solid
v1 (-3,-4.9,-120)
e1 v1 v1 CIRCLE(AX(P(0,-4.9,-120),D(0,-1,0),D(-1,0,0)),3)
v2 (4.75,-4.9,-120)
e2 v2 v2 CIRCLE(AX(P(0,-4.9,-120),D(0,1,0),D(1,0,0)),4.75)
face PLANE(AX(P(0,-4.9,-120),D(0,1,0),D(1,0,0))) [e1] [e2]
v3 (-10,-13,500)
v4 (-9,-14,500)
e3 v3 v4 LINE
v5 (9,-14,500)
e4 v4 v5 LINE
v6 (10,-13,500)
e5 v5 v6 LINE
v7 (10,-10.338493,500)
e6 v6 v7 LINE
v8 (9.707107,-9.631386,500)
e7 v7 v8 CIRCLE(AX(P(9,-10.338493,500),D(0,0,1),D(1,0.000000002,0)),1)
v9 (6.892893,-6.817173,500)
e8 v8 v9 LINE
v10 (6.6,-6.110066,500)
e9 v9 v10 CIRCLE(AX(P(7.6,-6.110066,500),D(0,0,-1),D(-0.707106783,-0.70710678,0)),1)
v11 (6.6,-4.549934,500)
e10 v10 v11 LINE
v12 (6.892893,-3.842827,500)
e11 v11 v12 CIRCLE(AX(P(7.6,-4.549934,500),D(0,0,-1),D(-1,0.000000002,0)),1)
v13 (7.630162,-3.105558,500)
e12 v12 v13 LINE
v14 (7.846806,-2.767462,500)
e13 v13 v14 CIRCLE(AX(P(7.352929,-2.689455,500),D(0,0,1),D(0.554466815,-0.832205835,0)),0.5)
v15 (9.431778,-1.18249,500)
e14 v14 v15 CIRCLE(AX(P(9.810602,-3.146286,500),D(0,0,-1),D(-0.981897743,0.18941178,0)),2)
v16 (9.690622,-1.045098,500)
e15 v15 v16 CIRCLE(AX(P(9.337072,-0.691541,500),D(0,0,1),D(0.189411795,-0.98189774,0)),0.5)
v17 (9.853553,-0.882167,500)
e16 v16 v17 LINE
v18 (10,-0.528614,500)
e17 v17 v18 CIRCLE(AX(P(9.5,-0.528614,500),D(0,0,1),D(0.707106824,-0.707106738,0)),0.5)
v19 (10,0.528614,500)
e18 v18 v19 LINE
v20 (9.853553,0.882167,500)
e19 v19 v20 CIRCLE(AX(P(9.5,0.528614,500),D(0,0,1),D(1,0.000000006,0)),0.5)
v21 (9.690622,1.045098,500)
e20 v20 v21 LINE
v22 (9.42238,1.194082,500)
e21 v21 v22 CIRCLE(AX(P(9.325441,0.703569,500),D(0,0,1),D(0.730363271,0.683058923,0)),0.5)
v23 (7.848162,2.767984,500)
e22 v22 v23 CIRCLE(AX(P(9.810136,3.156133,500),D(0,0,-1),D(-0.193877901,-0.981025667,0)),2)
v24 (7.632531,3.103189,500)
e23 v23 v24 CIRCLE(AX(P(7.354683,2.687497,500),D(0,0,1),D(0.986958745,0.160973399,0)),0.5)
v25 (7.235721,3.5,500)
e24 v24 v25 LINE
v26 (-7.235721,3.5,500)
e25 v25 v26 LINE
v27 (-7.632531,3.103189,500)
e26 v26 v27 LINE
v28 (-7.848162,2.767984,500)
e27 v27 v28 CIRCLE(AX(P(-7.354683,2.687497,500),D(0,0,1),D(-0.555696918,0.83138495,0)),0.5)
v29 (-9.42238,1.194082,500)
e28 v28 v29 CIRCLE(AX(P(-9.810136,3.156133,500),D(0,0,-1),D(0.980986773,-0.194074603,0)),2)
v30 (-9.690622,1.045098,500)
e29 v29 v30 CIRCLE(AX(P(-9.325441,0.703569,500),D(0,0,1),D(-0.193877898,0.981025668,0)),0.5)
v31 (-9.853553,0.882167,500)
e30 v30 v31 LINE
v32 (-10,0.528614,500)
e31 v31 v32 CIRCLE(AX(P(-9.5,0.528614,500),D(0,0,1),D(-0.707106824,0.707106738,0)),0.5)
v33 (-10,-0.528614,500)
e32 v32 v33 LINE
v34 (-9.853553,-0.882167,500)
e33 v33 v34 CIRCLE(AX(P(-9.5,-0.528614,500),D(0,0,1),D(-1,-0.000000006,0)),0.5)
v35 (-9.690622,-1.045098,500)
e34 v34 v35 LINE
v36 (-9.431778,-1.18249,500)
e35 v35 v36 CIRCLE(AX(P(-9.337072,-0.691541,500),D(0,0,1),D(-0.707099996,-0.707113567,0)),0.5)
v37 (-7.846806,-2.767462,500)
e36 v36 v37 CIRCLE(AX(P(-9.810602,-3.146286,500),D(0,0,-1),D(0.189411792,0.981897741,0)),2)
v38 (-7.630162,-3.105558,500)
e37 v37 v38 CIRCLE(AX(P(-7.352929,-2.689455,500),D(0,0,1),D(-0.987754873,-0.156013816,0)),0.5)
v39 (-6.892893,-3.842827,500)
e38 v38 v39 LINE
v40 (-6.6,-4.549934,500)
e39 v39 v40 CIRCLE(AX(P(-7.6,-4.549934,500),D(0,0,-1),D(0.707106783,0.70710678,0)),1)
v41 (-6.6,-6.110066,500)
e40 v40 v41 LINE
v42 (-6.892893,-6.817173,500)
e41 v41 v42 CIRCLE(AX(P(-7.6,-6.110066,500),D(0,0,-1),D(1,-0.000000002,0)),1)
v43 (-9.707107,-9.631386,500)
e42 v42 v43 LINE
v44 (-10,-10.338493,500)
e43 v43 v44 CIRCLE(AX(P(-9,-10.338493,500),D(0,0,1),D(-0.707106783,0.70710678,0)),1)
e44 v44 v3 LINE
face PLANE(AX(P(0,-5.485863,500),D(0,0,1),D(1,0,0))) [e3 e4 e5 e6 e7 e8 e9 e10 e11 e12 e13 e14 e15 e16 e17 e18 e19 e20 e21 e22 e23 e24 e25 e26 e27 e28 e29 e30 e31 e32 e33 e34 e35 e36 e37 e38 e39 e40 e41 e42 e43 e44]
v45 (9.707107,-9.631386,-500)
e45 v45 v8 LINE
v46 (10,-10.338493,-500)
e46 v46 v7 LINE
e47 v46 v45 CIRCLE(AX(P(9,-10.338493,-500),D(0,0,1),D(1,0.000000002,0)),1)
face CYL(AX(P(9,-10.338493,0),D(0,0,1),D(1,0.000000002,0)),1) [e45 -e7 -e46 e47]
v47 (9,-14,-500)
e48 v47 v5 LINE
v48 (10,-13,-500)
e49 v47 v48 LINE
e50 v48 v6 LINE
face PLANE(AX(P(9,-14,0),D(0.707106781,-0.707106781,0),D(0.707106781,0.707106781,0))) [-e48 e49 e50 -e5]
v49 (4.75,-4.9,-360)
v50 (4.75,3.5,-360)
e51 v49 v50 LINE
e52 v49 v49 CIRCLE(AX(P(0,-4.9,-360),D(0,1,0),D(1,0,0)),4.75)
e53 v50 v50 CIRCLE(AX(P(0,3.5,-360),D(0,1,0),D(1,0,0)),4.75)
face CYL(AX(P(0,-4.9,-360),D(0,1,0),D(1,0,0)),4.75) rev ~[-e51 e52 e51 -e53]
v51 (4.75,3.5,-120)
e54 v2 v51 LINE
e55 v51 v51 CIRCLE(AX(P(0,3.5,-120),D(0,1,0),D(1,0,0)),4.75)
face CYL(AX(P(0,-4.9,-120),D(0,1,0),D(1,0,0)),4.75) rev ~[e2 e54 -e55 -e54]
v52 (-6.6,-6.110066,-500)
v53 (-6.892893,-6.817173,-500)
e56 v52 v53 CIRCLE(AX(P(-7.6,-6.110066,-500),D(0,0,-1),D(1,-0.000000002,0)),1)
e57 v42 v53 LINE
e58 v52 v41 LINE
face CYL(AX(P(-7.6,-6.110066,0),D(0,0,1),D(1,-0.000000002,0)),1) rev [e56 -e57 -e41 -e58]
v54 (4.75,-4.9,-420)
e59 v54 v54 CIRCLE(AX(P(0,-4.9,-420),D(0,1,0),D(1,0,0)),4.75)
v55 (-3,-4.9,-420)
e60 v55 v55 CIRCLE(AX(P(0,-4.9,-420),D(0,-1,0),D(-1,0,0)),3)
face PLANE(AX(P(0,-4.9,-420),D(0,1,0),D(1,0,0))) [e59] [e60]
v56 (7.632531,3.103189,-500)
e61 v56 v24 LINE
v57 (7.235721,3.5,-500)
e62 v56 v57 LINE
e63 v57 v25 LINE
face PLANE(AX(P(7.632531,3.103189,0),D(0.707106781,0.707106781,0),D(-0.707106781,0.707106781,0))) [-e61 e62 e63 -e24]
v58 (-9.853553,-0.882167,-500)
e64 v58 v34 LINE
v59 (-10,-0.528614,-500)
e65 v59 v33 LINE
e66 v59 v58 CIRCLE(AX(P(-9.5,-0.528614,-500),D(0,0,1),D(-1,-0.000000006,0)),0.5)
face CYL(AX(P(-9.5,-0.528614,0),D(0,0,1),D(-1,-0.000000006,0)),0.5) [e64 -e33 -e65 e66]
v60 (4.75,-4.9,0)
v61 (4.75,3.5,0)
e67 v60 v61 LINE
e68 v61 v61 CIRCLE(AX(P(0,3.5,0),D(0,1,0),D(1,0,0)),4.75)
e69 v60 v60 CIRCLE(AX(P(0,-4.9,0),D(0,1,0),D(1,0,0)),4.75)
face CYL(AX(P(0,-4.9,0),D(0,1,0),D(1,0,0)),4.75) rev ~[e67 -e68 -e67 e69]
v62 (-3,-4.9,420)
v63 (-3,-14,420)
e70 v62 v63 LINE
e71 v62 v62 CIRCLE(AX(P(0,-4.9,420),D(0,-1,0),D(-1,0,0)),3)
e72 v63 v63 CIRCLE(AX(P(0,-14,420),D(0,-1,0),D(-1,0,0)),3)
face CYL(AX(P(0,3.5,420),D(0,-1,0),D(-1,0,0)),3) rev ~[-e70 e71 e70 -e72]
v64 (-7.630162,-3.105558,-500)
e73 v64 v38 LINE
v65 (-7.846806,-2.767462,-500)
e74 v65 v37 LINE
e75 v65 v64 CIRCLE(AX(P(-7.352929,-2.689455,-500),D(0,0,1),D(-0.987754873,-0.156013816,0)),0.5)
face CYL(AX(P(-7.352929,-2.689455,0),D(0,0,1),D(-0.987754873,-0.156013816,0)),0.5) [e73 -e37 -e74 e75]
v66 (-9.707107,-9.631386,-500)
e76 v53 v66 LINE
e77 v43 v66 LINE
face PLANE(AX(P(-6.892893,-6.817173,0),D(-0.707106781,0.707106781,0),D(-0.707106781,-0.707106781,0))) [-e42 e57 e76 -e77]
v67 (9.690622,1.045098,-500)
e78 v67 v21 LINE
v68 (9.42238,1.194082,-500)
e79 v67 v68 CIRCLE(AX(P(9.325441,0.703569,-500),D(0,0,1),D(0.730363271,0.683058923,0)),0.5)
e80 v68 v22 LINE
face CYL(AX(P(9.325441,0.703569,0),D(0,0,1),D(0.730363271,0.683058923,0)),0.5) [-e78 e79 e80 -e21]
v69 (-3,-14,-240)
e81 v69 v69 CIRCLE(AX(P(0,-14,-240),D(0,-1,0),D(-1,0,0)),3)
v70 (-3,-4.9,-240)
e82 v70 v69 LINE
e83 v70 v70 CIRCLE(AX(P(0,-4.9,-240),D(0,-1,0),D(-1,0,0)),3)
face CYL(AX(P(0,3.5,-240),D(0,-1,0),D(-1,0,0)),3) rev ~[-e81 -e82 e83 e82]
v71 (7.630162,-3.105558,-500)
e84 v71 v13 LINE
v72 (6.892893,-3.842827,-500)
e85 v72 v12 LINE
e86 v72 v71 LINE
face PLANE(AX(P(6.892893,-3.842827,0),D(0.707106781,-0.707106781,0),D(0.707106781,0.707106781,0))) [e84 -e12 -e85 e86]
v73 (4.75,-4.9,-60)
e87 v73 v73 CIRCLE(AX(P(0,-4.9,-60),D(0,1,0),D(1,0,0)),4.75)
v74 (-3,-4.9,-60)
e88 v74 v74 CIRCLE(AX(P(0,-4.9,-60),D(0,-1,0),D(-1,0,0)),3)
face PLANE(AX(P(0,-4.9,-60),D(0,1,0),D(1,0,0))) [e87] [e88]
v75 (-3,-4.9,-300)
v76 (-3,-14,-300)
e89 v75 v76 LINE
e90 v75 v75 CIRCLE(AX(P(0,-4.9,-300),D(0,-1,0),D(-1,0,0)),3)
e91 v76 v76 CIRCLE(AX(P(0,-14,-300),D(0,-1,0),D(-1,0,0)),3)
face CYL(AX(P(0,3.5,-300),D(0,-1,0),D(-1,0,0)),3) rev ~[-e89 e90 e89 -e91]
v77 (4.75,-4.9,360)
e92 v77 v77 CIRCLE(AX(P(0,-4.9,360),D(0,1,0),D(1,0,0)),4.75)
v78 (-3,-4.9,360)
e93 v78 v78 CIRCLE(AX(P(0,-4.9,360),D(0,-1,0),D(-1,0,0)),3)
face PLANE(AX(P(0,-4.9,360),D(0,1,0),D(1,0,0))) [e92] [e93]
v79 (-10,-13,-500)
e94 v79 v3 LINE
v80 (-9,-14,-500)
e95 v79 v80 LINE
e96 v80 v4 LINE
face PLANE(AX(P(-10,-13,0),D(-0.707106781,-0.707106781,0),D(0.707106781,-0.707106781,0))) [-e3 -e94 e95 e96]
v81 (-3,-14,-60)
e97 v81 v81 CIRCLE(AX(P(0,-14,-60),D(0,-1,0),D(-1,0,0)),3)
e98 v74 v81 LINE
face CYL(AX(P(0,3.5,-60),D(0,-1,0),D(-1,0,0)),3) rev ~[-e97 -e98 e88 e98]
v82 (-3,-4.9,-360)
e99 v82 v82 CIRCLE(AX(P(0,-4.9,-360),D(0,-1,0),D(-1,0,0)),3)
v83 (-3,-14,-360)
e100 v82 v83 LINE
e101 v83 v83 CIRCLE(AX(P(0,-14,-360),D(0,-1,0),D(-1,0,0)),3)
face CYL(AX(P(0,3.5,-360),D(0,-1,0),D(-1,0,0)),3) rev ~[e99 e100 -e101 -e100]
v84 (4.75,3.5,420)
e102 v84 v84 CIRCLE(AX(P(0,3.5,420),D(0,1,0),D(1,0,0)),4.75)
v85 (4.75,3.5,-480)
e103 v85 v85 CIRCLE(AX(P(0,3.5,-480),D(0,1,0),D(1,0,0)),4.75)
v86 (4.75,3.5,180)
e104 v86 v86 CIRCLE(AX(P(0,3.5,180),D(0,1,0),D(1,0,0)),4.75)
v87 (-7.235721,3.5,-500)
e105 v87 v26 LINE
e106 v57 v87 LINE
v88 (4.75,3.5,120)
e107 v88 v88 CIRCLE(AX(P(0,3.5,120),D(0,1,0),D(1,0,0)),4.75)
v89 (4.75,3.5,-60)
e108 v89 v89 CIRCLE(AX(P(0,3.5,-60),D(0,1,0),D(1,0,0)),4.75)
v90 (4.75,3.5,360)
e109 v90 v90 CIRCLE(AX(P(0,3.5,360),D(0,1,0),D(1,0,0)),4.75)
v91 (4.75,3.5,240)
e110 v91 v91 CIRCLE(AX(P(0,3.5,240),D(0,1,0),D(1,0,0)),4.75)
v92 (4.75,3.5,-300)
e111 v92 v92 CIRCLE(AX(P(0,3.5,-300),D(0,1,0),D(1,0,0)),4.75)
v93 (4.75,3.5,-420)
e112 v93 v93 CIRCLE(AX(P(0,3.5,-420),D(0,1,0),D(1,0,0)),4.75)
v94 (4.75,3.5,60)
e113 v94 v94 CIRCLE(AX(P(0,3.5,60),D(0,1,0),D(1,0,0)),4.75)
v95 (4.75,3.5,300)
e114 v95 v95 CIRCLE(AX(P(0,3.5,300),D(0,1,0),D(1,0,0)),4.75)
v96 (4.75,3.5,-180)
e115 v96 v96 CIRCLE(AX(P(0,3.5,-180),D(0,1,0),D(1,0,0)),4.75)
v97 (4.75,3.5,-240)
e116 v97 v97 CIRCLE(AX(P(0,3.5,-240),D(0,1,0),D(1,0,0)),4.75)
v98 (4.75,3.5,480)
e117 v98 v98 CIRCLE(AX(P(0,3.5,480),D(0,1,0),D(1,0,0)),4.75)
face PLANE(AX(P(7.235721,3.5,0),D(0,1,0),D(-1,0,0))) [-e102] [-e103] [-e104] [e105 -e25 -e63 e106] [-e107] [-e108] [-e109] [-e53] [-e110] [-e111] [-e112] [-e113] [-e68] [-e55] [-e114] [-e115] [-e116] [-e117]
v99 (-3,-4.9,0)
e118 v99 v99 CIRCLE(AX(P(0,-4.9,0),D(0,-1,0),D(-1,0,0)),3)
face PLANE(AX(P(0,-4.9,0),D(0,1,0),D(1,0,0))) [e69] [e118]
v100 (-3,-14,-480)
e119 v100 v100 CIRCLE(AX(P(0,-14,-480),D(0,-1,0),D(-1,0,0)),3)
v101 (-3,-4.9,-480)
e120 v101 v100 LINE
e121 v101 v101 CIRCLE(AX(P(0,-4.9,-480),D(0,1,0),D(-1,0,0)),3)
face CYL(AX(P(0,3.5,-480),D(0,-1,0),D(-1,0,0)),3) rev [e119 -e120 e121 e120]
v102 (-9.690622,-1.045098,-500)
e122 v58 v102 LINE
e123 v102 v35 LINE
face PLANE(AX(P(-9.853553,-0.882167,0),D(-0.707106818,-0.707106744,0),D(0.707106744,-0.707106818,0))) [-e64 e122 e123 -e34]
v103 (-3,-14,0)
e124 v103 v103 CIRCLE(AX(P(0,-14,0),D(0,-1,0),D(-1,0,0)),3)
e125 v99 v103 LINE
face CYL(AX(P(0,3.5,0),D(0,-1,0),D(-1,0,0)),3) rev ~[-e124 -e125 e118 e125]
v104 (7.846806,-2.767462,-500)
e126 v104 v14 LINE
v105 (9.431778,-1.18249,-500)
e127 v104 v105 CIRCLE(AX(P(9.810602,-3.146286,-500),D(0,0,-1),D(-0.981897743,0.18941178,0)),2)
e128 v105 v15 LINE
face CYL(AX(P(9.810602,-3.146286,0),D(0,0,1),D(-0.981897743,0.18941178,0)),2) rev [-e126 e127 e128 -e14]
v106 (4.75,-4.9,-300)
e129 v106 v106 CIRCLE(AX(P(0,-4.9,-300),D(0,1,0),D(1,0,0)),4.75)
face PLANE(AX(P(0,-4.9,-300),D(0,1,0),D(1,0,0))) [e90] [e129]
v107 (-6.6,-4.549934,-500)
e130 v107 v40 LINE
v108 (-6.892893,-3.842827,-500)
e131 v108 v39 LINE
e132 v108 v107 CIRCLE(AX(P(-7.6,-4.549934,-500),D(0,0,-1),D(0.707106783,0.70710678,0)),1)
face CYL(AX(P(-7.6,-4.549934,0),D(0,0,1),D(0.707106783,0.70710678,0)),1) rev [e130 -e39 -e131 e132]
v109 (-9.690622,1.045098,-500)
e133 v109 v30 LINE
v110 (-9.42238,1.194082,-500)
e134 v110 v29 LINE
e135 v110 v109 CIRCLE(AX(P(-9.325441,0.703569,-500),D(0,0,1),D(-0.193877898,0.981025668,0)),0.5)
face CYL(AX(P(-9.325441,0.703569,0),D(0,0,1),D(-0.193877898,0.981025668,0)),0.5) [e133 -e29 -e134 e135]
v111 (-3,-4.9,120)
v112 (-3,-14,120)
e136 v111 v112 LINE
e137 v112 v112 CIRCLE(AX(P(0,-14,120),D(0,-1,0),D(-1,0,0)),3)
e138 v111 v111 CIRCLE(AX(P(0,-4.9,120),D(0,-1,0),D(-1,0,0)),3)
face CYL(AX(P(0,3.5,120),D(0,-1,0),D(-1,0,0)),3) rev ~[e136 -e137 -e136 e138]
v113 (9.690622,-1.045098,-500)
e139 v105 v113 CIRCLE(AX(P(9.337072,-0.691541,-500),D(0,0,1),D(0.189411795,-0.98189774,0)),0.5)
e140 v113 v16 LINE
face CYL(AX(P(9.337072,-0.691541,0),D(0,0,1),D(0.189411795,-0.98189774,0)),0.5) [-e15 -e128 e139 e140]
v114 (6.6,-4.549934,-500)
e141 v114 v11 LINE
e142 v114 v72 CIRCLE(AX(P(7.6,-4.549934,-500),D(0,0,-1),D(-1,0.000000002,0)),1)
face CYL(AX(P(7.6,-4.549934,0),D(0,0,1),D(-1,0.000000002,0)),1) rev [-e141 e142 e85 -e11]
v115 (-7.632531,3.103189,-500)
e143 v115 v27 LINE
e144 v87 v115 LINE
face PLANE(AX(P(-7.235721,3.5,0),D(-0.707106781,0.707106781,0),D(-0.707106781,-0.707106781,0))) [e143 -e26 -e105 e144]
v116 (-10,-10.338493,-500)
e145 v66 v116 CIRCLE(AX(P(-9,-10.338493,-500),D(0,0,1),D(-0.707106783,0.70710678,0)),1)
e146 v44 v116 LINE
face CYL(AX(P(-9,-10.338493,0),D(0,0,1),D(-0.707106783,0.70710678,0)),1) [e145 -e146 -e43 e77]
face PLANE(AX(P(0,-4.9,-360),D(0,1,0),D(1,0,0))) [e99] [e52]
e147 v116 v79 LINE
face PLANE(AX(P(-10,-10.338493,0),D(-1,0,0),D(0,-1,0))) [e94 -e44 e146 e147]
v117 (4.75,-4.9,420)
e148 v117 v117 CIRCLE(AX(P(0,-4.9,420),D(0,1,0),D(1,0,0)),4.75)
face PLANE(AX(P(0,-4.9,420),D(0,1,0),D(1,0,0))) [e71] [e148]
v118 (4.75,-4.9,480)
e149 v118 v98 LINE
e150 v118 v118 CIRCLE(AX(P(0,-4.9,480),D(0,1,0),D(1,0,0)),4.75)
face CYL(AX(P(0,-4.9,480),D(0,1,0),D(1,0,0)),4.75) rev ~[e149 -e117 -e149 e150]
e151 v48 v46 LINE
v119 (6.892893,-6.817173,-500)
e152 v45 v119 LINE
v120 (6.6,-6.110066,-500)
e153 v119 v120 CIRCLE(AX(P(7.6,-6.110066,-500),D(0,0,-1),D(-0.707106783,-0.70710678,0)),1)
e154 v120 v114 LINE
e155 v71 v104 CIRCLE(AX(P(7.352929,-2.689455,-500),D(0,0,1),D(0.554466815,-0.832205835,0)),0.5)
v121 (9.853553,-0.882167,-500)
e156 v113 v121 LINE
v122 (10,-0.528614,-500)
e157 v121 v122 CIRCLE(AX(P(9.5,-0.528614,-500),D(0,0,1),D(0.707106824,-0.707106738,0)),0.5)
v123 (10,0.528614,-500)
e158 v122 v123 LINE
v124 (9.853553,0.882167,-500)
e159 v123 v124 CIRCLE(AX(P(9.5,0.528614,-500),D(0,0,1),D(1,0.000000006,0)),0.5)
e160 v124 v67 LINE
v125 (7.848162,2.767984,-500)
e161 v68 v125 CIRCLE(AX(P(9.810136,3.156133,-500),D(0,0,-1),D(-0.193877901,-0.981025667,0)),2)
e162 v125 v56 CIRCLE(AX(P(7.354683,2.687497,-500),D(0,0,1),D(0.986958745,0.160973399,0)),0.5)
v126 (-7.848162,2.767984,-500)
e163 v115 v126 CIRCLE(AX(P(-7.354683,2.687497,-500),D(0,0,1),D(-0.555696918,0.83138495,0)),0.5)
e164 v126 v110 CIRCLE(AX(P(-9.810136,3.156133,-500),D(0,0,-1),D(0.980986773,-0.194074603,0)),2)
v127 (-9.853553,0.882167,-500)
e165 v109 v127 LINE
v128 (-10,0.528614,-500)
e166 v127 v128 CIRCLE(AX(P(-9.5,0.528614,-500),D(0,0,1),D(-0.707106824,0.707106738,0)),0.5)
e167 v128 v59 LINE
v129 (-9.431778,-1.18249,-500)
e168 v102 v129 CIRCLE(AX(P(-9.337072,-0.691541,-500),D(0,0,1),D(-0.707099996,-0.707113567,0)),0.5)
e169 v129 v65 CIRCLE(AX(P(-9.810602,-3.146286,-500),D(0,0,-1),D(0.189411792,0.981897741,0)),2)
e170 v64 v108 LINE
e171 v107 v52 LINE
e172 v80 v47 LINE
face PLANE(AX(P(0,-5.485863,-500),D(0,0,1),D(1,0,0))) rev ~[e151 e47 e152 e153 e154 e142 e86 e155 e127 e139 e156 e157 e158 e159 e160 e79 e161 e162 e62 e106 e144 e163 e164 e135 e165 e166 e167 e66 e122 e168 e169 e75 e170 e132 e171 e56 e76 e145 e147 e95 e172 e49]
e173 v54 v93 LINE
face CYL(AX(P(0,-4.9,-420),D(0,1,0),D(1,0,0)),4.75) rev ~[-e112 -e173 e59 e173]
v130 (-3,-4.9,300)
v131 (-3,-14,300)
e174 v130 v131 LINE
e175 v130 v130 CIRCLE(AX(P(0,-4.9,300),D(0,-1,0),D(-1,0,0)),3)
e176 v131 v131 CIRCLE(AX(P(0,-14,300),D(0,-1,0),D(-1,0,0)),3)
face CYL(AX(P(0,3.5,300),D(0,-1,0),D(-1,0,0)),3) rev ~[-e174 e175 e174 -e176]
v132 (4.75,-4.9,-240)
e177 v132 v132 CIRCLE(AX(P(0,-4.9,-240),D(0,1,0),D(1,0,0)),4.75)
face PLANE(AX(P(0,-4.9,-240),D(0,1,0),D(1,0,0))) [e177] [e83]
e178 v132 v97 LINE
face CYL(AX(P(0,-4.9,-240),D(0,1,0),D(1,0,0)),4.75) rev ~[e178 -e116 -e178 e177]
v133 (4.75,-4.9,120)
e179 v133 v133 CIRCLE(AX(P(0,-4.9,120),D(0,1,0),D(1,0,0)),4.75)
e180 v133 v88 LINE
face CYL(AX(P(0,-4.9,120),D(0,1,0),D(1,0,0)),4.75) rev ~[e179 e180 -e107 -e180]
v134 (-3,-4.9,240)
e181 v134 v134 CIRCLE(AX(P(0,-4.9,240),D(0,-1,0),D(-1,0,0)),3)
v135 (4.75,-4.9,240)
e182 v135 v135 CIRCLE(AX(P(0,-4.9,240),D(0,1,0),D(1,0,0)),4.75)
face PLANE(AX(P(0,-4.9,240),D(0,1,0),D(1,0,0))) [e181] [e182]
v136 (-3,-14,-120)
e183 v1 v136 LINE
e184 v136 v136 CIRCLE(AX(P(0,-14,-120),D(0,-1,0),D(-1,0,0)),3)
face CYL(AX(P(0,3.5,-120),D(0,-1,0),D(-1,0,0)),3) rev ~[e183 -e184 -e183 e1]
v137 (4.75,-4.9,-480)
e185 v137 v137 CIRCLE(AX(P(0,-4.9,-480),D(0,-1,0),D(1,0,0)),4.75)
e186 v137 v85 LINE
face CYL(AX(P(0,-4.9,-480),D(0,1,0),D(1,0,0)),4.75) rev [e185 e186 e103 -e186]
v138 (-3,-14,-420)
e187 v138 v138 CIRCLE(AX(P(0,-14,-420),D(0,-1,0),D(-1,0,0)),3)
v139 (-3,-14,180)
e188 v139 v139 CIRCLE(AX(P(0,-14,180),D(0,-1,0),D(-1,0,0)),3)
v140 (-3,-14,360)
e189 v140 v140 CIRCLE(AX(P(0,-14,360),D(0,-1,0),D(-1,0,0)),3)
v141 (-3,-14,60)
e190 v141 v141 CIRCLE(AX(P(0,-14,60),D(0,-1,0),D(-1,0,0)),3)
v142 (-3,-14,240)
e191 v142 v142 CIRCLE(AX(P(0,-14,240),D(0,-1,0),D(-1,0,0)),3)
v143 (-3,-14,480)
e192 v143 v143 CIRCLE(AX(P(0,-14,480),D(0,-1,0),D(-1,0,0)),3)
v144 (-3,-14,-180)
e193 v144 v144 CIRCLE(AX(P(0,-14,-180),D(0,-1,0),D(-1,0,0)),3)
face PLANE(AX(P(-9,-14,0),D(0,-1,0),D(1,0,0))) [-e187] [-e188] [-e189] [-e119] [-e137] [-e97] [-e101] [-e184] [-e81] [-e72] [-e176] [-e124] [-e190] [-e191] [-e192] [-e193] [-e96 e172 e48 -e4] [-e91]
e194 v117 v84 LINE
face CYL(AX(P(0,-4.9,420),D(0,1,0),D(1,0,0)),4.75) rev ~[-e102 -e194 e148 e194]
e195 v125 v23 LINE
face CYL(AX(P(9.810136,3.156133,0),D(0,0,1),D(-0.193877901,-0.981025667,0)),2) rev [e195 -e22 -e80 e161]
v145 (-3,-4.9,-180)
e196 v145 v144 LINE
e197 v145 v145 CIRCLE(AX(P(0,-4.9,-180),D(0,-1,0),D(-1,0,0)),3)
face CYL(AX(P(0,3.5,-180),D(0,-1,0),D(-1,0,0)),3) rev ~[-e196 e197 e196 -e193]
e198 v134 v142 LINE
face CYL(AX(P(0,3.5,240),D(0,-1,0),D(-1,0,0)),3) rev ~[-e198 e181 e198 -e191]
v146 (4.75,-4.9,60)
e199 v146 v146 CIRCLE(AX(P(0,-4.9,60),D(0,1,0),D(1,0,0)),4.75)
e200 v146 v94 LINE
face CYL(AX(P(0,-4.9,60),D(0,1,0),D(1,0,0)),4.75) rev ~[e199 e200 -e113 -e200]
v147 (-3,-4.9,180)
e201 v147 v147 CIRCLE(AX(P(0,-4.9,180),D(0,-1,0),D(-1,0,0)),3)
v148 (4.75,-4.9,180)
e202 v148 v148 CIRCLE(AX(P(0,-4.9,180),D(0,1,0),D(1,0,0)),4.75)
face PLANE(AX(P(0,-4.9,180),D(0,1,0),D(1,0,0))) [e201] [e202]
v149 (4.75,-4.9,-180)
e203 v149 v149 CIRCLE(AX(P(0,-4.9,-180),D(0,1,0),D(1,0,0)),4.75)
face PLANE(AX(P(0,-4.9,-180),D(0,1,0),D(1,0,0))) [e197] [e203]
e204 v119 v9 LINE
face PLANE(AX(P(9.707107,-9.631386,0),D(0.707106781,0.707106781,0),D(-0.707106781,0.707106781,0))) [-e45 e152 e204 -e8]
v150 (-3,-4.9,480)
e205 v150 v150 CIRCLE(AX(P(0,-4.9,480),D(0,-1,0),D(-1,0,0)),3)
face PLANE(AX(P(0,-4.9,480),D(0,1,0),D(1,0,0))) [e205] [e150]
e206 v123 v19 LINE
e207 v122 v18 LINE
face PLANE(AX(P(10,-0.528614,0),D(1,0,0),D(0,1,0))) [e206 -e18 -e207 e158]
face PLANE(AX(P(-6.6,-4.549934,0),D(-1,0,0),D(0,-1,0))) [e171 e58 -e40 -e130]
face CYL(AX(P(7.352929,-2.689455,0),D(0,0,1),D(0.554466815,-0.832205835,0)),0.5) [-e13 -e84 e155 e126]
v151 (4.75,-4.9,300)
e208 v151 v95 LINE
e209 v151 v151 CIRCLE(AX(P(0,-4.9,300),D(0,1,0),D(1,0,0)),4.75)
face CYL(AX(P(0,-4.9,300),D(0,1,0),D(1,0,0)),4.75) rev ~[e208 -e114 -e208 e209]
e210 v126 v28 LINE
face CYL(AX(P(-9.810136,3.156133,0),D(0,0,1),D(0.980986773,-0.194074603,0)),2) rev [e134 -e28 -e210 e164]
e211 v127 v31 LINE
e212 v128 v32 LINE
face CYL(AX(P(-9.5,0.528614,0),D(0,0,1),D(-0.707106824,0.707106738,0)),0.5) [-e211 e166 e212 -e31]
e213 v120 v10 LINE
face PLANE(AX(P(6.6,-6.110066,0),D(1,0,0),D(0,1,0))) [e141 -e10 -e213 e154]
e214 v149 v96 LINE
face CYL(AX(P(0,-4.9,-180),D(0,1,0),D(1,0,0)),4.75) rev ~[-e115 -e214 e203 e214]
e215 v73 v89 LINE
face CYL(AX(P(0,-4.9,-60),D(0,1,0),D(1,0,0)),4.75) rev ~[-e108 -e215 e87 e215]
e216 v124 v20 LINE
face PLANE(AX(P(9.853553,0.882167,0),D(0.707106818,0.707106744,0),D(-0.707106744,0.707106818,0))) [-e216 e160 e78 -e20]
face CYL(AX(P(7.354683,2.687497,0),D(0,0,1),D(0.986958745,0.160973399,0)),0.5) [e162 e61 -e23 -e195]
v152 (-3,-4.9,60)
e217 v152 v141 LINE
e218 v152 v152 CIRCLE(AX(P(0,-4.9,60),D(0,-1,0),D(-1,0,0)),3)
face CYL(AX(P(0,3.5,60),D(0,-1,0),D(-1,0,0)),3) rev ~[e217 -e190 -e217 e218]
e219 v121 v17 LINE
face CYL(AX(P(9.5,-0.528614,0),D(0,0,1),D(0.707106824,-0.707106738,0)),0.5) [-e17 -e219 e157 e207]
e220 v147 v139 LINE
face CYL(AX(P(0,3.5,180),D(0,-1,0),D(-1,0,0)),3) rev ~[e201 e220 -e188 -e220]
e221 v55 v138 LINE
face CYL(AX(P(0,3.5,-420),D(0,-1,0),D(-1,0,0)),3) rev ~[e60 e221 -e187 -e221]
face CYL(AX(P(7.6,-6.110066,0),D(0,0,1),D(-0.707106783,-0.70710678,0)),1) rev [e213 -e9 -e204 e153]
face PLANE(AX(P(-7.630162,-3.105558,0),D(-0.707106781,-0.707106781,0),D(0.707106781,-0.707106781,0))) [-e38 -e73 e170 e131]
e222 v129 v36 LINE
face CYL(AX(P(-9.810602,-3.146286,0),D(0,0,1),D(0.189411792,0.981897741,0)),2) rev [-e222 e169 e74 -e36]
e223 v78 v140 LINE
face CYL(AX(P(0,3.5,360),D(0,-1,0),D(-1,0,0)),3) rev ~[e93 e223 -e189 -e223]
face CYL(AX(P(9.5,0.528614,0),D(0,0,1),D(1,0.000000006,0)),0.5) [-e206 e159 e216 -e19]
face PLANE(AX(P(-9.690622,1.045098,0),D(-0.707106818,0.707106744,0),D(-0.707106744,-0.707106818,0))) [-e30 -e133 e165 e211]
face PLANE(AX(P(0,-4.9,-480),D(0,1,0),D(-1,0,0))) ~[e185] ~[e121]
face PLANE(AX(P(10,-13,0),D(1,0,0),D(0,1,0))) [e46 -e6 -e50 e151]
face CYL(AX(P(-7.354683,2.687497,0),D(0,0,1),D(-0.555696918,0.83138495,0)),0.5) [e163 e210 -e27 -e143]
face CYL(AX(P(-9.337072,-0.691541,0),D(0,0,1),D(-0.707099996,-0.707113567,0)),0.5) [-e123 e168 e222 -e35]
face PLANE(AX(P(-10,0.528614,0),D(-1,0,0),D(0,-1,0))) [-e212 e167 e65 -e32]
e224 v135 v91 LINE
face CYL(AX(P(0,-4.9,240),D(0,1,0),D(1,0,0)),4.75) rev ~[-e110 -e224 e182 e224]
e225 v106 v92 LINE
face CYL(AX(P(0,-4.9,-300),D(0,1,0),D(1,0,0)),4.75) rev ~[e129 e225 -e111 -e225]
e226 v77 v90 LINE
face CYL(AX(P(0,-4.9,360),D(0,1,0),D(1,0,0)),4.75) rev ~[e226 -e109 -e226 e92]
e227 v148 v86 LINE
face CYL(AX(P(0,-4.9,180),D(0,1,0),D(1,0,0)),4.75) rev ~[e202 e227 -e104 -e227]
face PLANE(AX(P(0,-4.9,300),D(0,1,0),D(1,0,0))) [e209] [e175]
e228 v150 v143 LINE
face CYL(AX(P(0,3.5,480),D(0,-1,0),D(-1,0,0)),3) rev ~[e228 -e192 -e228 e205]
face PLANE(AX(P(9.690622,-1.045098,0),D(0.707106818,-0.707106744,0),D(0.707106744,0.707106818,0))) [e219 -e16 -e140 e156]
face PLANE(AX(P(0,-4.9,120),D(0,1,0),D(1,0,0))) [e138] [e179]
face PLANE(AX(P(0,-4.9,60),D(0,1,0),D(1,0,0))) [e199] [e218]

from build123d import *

# Parameters (mm, degrees)
BODY_DEPTH                     = 500
CBORE_FOR_M6_SHCS1_D           = 6
CBORE_FOR_M6_SHCS1_CBORE_D     = 9.5
CBORE_FOR_M6_SHCS1_CBORE_DEPTH = 8.4
LP_CBORE_COUNT                 = 17
LP_CBORE_PITCH                 = 60


with BuildPart() as part:
    # Sketch10 → BODY (new, symmetric)
    with BuildSketch(Plane.XY):
        with BuildLine():
            Line((-10, -10.338492954), (-10, -13))
            Line((-10, -13), (-9, -14))
            Line((-9, -14), (9, -14))
            Line((9, -14), (10, -13))
            Line((10, -13), (10, -10.338492954))
            ThreePointArc((10, -10.338492954), (9.92387953, -9.955809511), (9.707106773, -9.631386153))
            Line((9.707106773, -9.631386153), (6.892893227, -6.817172607))
            ThreePointArc((6.892893227, -6.817172607), (6.67612047, -6.492749249), (6.6, -6.110065806))
            Line((6.6, -6.110065806), (6.6, -4.549934184))
            ThreePointArc((6.6, -4.549934184), (6.67612047, -4.167250741), (6.892893227, -3.842827383))
            Line((6.892893227, -3.842827383), (7.63016236, -3.10555825))
            ThreePointArc((7.63016236, -3.10555825), (7.773916138, -2.959214094), (7.846806387, -2.767462244))
            ThreePointArc((7.846806387, -2.767462244), (8.396388302, -1.732072251), (9.431778289, -1.182490324))
            ThreePointArc((9.431778289, -1.182490324), (9.571491852, -1.133183296), (9.69062239, -1.045098237))
            Line((9.69062239, -1.045098237), (9.85355341, -0.8821672))
            ThreePointArc((9.85355341, -0.8821672), (9.961939771, -0.719955532), (10, -0.528613829))
            Line((10, -0.528613829), (10, 0.528613829))
            ThreePointArc((10, 0.528613829), (9.961939771, 0.719955532), (9.85355341, 0.8821672))
            Line((9.85355341, 0.8821672), (9.69062239, 1.045098237))
            ThreePointArc((9.69062239, 1.045098237), (9.568212026, 1.140675286), (9.422379794, 1.194081559))
            ThreePointArc((9.422379794, 1.194081559), (8.396063845, 1.741777544), (7.848162084, 2.767983654))
            ThreePointArc((7.848162084, 2.767983654), (7.775191194, 2.958001328), (7.63253117, 3.10318943))
            Line((7.63253117, 3.10318943), (7.2357206, 3.5))
            Line((7.2357206, 3.5), (-7.2357206, 3.5))
            Line((-7.2357206, 3.5), (-7.63253117, 3.10318943))
            ThreePointArc((-7.63253117, 3.10318943), (-7.775191194, 2.958001328), (-7.848162084, 2.767983654))
            ThreePointArc((-7.848162084, 2.767983654), (-8.396063845, 1.741777544), (-9.422379794, 1.194081559))
            ThreePointArc((-9.422379794, 1.194081559), (-9.568212026, 1.140675286), (-9.69062239, 1.045098237))
            Line((-9.69062239, 1.045098237), (-9.85355341, 0.8821672))
            ThreePointArc((-9.85355341, 0.8821672), (-9.961939771, 0.719955532), (-10, 0.528613829))
            Line((-10, 0.528613829), (-10, -0.528613829))
            ThreePointArc((-10, -0.528613829), (-9.961939771, -0.719955532), (-9.85355341, -0.8821672))
            Line((-9.85355341, -0.8821672), (-9.69062239, -1.045098237))
            ThreePointArc((-9.69062239, -1.045098237), (-9.571491852, -1.133183296), (-9.431778289, -1.182490324))
            ThreePointArc((-9.431778289, -1.182490324), (-8.396388302, -1.732072251), (-7.846806387, -2.767462244))
            ThreePointArc((-7.846806387, -2.767462244), (-7.773916138, -2.959214094), (-7.63016236, -3.10555825))
            Line((-7.63016236, -3.10555825), (-6.892893227, -3.842827383))
            ThreePointArc((-6.892893227, -3.842827383), (-6.67612047, -4.167250741), (-6.6, -4.549934184))
            Line((-6.6, -4.549934184), (-6.6, -6.110065806))
            ThreePointArc((-6.6, -6.110065806), (-6.67612047, -6.492749249), (-6.892893227, -6.817172607))
            Line((-6.892893227, -6.817172607), (-9.707106773, -9.631386153))
            ThreePointArc((-9.707106773, -9.631386153), (-9.92387953, -9.955809511), (-10, -10.338492954))
        make_face()
    extrude(amount=BODY_DEPTH, both=True)

    # CBORE for M6 SHCS1 (through all)
    with Locations(Plane(origin=(0, 3.5, 0), x_dir=(1, 0, 0), z_dir=(0, 1, 0))):
        with Locations((0, -480)):
            cbore_for_m6_shcs1 = CounterBoreHole(CBORE_FOR_M6_SHCS1_D / 2, CBORE_FOR_M6_SHCS1_CBORE_D / 2, CBORE_FOR_M6_SHCS1_CBORE_DEPTH)

    # MIRROR FIRST COUNTERBORE: CBORE for M6 SHCS1 across plane
    add(cbore_for_m6_shcs1.mirror(Plane.XY), mode=Mode.SUBTRACT)

    # LP CBORE: CBORE for M6 SHCS1 ×17
    with Locations(*[(0, 0, -i * LP_CBORE_PITCH) for i in range(1, LP_CBORE_COUNT)]):
        add(cbore_for_m6_shcs1, mode=Mode.SUBTRACT)


solid = part.part
